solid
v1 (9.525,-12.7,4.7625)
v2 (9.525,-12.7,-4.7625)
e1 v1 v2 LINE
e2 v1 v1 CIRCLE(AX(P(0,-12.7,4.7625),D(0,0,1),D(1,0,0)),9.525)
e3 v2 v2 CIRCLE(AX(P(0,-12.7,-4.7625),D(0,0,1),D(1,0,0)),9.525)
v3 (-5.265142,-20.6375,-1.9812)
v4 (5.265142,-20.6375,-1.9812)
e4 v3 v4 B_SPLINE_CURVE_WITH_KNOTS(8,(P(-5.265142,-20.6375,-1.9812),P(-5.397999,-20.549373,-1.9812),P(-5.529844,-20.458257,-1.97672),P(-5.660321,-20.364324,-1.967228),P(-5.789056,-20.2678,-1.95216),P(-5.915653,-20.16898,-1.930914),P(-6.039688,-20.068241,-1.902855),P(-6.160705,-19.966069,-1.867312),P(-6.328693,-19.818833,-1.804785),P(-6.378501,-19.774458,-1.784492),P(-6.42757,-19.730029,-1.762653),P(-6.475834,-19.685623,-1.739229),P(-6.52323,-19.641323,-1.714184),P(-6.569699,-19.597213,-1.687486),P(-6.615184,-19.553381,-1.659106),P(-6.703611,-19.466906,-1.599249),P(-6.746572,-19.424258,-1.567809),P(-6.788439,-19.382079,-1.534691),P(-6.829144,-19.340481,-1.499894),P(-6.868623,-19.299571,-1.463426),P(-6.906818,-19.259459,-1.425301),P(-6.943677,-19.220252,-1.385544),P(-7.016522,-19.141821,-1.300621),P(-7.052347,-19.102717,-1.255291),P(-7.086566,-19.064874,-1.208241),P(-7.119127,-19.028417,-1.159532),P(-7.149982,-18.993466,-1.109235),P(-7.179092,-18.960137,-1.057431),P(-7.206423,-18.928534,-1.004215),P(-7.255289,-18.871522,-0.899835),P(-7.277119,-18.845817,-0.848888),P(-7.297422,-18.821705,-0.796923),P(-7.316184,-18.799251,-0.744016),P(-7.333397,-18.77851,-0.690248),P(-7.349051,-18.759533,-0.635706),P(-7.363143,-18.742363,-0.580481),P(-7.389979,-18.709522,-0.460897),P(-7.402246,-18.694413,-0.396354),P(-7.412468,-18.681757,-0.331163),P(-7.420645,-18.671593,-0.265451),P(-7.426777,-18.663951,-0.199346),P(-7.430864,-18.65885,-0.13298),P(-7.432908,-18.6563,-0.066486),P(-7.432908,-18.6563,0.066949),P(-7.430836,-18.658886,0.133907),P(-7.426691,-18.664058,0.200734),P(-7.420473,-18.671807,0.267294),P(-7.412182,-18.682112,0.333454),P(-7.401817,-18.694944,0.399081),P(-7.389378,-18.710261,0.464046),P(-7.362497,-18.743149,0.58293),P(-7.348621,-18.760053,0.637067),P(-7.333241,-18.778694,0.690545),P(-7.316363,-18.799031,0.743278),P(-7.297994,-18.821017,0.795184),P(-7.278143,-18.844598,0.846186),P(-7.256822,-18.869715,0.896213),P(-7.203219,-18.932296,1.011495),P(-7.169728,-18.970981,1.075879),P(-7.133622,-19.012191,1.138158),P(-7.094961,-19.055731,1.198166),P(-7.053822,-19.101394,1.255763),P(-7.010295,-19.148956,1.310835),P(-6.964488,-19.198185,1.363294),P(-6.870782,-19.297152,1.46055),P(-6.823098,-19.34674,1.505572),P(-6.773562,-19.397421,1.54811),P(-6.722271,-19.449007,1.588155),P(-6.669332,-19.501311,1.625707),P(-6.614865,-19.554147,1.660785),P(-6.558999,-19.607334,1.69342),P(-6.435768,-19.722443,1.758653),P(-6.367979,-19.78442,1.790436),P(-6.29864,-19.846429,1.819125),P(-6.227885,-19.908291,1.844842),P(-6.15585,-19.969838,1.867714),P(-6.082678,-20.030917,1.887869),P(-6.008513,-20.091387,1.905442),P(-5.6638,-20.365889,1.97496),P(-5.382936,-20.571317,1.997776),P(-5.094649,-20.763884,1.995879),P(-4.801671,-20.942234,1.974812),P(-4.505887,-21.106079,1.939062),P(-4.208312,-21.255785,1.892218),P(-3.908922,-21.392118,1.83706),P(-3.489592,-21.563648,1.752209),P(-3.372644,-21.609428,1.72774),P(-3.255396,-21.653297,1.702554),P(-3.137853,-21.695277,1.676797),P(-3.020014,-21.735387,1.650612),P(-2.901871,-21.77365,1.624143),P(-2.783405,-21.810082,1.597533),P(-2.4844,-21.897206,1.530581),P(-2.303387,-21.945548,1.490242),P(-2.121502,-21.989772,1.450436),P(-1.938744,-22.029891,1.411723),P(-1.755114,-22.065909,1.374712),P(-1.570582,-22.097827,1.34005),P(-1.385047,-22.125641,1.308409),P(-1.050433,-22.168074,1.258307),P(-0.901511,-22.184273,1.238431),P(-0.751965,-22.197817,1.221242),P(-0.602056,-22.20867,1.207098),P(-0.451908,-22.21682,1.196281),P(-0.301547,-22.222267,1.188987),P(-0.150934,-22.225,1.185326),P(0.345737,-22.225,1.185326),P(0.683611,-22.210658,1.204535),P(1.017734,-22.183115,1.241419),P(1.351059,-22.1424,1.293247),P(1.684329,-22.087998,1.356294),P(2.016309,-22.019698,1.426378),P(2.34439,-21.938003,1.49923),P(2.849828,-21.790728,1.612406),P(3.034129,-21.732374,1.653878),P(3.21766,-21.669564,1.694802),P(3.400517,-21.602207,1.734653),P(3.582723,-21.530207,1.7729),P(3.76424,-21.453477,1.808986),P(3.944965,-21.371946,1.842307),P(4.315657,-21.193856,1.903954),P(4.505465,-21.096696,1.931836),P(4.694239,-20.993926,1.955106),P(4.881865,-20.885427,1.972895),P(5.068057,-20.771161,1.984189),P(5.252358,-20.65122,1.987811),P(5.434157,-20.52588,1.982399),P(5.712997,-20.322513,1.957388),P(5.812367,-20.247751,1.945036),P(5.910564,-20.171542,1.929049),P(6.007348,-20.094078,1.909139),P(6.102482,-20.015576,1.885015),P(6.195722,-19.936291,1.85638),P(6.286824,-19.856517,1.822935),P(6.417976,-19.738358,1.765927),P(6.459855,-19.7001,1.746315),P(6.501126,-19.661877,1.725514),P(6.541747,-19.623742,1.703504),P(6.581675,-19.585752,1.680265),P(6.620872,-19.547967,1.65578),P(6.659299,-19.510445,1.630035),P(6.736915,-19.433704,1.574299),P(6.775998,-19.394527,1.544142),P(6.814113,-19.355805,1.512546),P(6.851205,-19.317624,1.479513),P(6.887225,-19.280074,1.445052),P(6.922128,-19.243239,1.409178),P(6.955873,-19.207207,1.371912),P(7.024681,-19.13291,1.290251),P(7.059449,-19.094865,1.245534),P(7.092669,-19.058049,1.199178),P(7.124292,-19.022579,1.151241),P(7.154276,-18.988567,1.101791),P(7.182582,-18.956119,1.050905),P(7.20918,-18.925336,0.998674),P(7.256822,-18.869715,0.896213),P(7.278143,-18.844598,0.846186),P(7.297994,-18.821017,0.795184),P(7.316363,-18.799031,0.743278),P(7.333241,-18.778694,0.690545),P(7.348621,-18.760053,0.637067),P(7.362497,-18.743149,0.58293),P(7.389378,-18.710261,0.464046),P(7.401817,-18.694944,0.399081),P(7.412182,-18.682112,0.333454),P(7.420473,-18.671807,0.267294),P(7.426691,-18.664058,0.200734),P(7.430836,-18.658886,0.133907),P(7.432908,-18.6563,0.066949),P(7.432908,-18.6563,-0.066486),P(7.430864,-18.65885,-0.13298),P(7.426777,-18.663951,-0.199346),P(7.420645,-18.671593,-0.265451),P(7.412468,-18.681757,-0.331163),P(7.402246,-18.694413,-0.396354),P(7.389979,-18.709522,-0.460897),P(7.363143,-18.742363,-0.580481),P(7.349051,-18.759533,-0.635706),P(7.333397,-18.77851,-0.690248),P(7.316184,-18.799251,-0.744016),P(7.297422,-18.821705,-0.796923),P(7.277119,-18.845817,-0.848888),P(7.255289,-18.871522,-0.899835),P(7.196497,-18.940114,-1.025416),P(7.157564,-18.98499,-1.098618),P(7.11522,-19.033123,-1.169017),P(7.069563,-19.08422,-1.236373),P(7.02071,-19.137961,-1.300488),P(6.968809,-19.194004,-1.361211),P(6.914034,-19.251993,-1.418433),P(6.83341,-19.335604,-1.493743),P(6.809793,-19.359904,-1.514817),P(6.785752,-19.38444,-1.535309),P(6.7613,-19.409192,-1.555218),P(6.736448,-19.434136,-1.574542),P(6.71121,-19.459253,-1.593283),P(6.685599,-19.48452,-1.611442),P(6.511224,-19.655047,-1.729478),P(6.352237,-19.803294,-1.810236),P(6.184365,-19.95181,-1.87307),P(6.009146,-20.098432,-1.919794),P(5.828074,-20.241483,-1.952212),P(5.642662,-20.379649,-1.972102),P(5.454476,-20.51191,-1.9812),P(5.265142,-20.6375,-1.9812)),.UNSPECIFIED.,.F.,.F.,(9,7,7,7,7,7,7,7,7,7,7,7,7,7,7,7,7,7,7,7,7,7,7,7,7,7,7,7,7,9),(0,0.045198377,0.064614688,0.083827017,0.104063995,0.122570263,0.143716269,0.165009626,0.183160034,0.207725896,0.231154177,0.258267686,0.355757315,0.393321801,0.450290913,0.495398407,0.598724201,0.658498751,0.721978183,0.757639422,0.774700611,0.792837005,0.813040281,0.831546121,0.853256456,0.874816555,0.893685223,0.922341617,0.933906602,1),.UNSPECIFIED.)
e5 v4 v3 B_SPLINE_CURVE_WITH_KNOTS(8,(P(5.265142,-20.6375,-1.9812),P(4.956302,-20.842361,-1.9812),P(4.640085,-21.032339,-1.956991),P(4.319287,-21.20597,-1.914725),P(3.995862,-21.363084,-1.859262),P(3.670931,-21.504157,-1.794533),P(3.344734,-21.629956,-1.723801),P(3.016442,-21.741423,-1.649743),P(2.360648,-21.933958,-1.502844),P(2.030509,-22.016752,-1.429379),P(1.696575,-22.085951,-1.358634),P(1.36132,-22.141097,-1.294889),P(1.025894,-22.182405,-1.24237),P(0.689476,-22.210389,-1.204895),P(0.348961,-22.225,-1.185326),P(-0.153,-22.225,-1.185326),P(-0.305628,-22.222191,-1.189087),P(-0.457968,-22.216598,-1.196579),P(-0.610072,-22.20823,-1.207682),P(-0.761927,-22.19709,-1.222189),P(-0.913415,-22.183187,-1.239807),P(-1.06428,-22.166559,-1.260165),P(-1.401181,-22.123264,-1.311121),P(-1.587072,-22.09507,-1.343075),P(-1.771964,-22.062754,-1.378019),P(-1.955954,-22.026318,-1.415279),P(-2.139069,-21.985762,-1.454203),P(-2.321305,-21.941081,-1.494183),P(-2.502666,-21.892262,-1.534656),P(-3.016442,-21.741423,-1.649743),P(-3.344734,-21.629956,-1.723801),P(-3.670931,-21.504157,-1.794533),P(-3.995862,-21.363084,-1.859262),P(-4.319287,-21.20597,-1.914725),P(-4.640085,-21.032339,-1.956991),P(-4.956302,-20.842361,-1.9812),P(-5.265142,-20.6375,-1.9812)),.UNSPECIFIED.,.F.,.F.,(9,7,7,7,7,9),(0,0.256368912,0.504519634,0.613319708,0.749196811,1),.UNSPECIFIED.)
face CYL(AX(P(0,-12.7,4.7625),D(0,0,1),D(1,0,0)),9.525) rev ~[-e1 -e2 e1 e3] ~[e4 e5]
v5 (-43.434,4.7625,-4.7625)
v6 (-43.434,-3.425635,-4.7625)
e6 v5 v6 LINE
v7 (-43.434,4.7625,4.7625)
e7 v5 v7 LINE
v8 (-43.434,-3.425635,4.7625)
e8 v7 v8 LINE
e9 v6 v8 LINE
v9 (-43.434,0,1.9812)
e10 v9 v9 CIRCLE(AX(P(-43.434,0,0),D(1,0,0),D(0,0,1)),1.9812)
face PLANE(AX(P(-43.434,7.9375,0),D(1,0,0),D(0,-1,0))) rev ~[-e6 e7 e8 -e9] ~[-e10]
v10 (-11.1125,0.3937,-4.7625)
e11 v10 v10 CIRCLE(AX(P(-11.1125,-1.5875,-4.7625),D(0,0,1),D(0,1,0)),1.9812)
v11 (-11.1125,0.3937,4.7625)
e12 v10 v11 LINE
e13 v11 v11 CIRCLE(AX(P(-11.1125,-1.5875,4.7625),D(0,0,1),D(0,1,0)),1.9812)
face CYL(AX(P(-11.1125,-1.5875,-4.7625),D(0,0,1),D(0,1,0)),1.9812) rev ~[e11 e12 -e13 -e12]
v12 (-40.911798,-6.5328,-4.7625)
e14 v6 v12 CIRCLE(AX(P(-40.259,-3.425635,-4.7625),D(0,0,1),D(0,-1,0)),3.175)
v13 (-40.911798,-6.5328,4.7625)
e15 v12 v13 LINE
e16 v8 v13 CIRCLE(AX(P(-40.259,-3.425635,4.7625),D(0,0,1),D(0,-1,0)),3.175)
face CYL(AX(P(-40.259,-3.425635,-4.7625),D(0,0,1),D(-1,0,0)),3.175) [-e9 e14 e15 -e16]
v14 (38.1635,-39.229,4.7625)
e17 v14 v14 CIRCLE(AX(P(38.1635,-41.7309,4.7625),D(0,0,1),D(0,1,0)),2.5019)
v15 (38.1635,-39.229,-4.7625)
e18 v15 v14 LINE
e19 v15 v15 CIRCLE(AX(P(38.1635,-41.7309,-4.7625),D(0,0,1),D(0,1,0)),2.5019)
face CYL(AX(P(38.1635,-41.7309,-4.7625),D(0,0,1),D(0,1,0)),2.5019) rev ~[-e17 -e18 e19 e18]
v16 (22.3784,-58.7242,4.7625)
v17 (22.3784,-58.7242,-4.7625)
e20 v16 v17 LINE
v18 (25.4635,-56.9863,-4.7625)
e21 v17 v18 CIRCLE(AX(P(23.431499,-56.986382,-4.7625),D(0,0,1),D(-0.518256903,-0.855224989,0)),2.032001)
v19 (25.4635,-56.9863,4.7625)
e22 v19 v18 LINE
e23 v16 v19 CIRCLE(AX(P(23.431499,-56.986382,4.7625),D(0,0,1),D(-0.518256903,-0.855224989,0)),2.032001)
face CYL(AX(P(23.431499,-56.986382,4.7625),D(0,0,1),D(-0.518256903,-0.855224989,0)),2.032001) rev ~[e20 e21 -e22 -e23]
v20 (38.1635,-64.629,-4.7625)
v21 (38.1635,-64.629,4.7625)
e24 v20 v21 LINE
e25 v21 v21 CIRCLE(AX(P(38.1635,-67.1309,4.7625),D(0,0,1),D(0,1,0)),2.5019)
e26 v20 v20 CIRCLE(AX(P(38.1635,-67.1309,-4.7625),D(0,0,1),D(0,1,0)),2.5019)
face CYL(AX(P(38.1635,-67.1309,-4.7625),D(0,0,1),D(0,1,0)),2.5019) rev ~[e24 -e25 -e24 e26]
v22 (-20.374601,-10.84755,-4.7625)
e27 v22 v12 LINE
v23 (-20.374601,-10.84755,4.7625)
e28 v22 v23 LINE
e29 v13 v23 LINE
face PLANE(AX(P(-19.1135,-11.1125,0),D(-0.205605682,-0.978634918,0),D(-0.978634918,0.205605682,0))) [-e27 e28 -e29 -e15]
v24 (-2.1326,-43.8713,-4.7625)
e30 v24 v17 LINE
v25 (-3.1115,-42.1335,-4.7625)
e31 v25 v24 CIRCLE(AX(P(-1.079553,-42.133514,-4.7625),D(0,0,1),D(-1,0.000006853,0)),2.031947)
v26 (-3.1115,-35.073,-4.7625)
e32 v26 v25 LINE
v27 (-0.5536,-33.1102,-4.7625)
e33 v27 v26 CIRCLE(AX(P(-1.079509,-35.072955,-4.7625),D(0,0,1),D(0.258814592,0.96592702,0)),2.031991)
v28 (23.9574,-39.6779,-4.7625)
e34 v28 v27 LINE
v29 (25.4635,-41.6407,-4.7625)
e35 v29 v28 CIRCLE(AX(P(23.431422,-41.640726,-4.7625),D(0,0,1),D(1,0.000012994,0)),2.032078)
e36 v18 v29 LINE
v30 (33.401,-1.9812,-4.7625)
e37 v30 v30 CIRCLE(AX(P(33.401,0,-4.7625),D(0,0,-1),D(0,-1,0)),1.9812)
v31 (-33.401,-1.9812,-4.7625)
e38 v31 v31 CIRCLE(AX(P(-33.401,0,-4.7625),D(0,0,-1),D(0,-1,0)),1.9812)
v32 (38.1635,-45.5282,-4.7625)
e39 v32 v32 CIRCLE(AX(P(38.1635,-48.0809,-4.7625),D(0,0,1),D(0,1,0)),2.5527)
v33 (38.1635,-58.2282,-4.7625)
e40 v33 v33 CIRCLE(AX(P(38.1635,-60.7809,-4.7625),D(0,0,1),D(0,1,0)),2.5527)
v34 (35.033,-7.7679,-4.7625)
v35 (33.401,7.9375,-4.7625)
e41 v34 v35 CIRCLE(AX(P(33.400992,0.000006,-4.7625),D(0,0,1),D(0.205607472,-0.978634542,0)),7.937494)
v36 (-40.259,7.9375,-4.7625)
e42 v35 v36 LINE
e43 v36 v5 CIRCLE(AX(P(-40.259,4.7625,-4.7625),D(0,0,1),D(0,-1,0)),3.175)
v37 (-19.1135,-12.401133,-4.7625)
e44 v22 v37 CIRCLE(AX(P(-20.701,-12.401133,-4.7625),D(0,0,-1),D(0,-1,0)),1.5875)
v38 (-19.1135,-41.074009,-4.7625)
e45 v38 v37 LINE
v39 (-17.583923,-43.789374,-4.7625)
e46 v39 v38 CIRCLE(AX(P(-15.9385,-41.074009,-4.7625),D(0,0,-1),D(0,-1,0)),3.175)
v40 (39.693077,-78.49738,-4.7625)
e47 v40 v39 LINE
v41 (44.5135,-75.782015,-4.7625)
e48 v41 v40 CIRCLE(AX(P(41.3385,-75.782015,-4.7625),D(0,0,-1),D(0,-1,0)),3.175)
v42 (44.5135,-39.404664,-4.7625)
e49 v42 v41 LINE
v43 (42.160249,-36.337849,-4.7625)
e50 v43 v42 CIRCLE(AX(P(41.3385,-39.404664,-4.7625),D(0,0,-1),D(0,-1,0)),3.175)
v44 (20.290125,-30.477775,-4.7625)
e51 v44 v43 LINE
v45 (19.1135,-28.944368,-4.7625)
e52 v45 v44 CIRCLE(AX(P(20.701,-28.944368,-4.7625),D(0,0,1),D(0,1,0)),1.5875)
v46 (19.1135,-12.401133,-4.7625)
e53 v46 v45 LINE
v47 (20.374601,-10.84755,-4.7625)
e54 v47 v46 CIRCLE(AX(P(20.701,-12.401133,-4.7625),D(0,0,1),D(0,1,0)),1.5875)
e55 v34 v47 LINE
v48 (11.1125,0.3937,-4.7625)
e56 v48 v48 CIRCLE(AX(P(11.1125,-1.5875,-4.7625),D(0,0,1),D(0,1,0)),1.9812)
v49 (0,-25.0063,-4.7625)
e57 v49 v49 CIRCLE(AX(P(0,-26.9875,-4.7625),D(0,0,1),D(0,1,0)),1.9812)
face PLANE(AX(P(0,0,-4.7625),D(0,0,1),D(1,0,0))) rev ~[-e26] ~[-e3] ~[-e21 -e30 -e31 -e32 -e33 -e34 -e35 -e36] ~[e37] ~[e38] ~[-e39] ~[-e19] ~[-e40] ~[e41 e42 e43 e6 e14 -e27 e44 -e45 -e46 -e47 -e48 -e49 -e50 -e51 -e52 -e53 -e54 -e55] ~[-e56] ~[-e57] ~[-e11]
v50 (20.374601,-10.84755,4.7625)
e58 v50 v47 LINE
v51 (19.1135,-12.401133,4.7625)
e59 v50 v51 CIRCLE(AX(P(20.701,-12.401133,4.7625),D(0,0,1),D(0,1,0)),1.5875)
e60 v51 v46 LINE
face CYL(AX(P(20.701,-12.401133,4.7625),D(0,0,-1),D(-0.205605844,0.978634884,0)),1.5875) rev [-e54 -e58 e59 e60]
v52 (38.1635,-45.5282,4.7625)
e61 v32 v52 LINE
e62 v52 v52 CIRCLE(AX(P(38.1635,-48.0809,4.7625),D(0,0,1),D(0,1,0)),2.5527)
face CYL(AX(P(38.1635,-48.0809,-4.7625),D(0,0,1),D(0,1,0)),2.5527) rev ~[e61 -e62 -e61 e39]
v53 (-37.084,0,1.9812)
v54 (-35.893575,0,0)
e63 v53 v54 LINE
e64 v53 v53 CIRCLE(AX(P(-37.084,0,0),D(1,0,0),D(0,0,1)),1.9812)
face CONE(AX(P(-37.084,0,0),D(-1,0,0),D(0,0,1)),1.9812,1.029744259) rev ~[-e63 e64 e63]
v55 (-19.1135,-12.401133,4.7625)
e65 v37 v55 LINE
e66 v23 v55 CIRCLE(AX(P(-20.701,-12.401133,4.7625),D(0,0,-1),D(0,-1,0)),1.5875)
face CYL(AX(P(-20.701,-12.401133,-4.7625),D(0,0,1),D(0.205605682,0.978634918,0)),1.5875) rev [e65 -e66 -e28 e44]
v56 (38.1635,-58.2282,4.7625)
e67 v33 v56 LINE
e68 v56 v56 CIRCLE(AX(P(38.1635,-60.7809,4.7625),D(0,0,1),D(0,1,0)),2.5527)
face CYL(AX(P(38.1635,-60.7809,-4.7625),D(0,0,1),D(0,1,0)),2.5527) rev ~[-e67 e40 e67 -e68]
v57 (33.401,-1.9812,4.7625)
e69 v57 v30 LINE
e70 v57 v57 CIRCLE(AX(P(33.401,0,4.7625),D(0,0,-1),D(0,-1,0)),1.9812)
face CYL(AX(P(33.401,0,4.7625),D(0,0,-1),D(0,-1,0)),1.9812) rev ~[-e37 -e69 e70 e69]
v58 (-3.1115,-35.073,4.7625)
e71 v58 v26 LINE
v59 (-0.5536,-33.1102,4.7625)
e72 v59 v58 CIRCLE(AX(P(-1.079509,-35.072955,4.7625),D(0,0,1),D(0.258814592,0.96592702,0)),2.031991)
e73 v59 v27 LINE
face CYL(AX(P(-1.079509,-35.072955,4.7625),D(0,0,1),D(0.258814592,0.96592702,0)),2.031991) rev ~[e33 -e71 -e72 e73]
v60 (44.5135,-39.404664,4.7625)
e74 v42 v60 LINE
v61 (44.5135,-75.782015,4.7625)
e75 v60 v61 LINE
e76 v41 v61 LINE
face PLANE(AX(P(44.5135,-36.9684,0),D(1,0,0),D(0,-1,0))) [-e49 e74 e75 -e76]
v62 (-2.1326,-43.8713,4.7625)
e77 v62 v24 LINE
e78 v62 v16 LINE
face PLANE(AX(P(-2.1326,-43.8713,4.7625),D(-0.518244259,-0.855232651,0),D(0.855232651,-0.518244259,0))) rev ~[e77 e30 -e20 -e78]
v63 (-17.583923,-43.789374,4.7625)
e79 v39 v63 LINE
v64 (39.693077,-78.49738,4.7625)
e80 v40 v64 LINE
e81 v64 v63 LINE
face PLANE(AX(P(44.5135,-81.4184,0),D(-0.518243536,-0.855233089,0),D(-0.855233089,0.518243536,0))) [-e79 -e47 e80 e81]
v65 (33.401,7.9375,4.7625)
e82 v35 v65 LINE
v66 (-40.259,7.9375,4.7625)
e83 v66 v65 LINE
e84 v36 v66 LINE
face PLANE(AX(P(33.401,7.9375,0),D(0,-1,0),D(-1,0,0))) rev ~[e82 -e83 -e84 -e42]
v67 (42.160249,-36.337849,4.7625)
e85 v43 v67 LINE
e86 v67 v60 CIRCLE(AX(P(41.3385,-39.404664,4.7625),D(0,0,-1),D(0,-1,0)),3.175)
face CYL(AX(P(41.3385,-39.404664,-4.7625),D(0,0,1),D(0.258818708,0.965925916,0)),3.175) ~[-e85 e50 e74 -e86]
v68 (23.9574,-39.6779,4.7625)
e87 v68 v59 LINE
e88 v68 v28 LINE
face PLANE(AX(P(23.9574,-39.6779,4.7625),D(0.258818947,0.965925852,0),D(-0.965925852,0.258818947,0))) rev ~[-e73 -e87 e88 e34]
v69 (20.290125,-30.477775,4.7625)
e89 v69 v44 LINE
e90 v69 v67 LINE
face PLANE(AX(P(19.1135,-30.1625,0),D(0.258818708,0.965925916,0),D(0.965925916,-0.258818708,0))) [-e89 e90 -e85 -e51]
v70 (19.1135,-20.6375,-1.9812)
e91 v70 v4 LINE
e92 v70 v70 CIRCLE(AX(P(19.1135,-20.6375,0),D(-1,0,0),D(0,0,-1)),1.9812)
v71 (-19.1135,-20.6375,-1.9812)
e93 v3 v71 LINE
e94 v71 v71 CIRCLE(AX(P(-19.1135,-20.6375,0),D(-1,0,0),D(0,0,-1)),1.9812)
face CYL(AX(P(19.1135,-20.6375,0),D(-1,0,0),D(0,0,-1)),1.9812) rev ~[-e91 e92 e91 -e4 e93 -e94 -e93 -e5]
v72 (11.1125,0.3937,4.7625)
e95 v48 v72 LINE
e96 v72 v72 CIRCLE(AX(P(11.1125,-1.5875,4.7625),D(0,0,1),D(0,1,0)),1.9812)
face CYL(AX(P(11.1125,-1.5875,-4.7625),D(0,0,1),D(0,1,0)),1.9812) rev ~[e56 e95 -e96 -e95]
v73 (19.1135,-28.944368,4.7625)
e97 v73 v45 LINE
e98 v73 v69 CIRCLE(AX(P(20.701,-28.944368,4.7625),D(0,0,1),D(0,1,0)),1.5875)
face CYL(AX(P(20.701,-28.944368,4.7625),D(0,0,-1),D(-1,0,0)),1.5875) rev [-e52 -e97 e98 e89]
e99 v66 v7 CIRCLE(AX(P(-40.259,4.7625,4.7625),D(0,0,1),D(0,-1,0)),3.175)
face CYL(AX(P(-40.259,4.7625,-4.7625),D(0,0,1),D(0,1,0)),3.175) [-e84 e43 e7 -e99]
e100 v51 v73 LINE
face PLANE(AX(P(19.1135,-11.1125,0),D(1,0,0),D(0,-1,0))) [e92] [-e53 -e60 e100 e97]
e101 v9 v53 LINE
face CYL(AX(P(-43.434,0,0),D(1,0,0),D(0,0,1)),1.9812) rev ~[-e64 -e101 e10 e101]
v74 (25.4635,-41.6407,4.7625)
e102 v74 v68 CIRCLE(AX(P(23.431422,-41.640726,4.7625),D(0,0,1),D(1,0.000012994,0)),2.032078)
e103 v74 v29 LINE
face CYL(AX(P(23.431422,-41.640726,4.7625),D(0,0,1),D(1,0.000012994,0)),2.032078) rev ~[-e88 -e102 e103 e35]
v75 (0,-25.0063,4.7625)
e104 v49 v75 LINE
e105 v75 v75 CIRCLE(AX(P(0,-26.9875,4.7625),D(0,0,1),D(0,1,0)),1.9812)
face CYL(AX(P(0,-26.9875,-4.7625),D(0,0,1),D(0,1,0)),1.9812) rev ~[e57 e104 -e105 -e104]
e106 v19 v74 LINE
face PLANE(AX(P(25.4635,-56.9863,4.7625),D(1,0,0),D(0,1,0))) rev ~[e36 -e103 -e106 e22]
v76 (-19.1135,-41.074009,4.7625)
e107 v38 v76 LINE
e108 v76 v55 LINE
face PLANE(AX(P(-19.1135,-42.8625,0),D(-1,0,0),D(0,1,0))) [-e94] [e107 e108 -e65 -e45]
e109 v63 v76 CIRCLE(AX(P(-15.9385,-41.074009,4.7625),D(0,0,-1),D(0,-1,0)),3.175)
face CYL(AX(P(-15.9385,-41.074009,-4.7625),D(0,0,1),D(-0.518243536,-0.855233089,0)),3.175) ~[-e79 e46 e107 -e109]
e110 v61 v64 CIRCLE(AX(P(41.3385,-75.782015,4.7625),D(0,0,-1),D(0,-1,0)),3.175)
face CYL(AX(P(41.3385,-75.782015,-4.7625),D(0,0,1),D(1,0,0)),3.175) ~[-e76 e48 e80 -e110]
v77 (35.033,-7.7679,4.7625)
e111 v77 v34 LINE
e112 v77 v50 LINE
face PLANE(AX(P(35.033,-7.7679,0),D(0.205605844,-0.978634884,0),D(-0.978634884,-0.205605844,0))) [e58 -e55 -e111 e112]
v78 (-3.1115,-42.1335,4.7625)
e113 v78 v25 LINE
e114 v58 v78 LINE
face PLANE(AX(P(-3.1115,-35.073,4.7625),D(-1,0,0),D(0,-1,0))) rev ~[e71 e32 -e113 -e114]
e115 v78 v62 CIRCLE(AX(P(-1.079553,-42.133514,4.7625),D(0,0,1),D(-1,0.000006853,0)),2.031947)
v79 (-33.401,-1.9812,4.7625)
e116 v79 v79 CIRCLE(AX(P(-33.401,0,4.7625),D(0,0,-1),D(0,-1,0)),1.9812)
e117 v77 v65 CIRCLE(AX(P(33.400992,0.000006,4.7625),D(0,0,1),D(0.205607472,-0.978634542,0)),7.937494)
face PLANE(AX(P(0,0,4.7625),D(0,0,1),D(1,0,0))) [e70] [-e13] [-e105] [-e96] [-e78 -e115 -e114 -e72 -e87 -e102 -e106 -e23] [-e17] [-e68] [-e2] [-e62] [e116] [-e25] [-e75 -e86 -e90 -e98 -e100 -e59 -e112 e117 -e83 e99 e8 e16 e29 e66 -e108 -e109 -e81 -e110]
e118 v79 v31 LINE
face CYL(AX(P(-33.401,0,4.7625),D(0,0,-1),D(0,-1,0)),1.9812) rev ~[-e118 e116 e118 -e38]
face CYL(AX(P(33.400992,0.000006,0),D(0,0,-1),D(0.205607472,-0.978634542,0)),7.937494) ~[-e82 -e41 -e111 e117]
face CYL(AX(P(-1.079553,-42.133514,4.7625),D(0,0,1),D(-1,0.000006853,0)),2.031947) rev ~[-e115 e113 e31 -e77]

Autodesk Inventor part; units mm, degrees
ref_plane "YZ Plane" through (0, 0, 0) normal (1, 0, 0) x (0, 1, 0)
ref_plane "XZ Plane" through (0, 0, 0) normal (0, 1, 0) x (-1, 0, 0)
ref_plane "XY Plane" through (0, 0, 0) normal (0, 0, 1) x (1, 0, 0)
sketch "Sketch1" plane through (0, 0, 0) normal (0, 0, 1) x (1, 0, 0)
  line L0 (33.401, 0) -> (-33.401, 0) construction
  arc A0 (33.401, 7.9375) -> (35.033, -7.7679) centre (33.401, 0) ccw construction
  arc A1 (-35.033, -7.7679) -> (-33.401, 7.9375) centre (-33.401, 0) ccw construction
  line L1 (33.401, 7.9375) -> (-33.401, 7.9375)
  line L2 (35.033, -7.7679) -> (19.1135, -11.1125)
  line L3 (19.1135, -11.1125) -> (19.1135, -30.1625)
  line L4 (19.1135, -30.1625) -> (44.5135, -36.9684)
  line L5 (44.5135, -36.9684) -> (44.5135, -81.4184)
  line L6 (44.5135, -81.4184) -> (-19.1135, -42.8625)
  line L7 (-19.1135, -42.8625) -> (-19.1135, -11.1125)
  line L8 (-19.1135, -11.1125) -> (-43.434, -6.0029)
  arc A2 (35.033, -7.7679) -> (33.401, 7.9375) centre (33.401, 0) ccw
  arc A3 (-33.401, 7.9375) -> (-35.033, -7.7679) centre (-33.401, 0) ccw
  line L9 (0, 26.6914) -> (0, -99.4367) construction
  line L10 (-33.401, 7.9375) -> (-43.434, 7.9375)
  line L11 (-43.434, 7.9375) -> (-43.434, -6.0029)
  point P0 (0, 0)
  point P1 (0, 0)
  point P2 (19.1135, -20.6375)
  dimension "d24" = 50.927
  dimension "d25" = 7.9375
  dimension "d26" = 19.05
  dimension "d27" = 19.05
  dimension "d28" = 105
  dimension "d30" = 6.35
  dimension "d31" = 44.45
  dimension "d72" = 28.575
  dimension "d110" = 31.75
  dimension "d127" = 10.033
extrude "Extrusion2" add sketch "Sketch1" along normal mid plane 9.525
sketch "Sketch2" plane through (0, 0, 4.7625) normal (0, 0, 1) x (1, 0, 0)
  arc A0 (35.033, -7.7679) -> (33.401, 7.9375) centre (33.401, 0) ccw construction
  line L0 (33.401, 0) -> (-33.401, 0) construction
  point P0 (0, 0)
  point P1 (0, 0)
hole "Hole1" at (33.401, 0, 4.7625) at (-33.401, 0, 4.7625) direction (0, 0, -1) diameter 3.9624 end through all thread size "10-32 UNF" class "2B" standard "ANSI Unified Screw Threads"
sketch "Sketch3" plane through (0, 0, -4.7625) normal (0, 0, -1) x (-1, 0, 0)
  line L0 (-62.103, 0) -> (61.0235, 0) construction
  line L1 (0, -99.2896) -> (0, 25.8087) construction
  line L2 (11.1125, -1.5875) -> (-11.1125, -1.5875) construction
  line L3 (0, -26.9875) -> (0, -1.5875) construction
  point P0 (0, 0)
  dimension "d43" = 22.225
  dimension "d44" = 25.4
  dimension "d45" = 1.5875
hole "Hole2" at (0, -26.9875, -4.7625) at (11.1125, -1.5875, -4.7625) at (-11.1125, -1.5875, -4.7625) direction (0, 0, 1) diameter 3.9624 end through all thread size "10-32 UNF" class "2B" standard "ANSI Unified Screw Threads"
sketch "Sketch4" plane through (0, 0, 4.7625) normal (0, 0, 1) x (1, 0, 0)
  line L0 (0, 0) -> (0, -12.7) construction
  circle A0 centre (0, -12.7) radius 9.525
  line L1 (25.4635, -56.9863) -> (25.4635, -41.6407)
  line L2 (23.9574, -39.6779) -> (-0.5536, -33.1102)
  line L3 (-3.1115, -35.073) -> (-3.1115, -42.1335)
  line L4 (-2.1326, -43.8713) -> (22.3784, -58.7242)
  line L5 (-19.1135, -42.8625) -> (44.5135, -81.4184) construction
  line L6 (44.5135, -36.9684) -> (19.1135, -30.1625) construction
  line L7 (44.5135, -81.4184) -> (44.5135, -36.9684) construction
  arc A1 (22.3784, -58.7242) -> (25.4635, -56.9863) centre (23.4315, -56.9863) ccw
  arc A2 (25.4635, -41.6407) -> (23.9574, -39.6779) centre (23.4315, -41.6407) ccw
  arc A3 (-0.5536, -33.1102) -> (-3.1115, -35.073) centre (-1.0795, -35.073) ccw
  arc A4 (-3.1115, -42.1335) -> (-2.1326, -43.8713) centre (-1.0795, -42.1335) ccw
  point P0 (-18.2864, -30.0929)
  point P1 (20.2266, -29.9445)
  point P2 (19.1135, -30.1625)
  dimension "d54" = 19.05
  dimension "d55" = 12.7
  dimension "d56" = 19.05
  dimension "d57" = 28.575
  dimension "d58" = 7.9375
  dimension "d59" = 7.9375
  dimension "d60" = 2.032
extrude "Extrusion3" cut sketch "Sketch4" against normal through all
sketch "Sketch6" plane through (19.1135, -30.1625, 4.7625) normal (1, 0, 0) x (0, 0, -1)
  line L0 (9.525, 19.05) -> (0, 19.05) construction
  line L1 (0, 0) -> (0, 19.05) construction
  line L2 (9.525, 0) -> (0, 0) construction
  line L3 (9.525, 19.05) -> (9.525, 0) construction
  line L4 (9.525, 0) -> (0, 19.05) construction
  point P0 (4.7625, 30.1625)
  point P1 (4.7625, 9.525)
hole "Hole3" at (19.1135, -20.6375, 0) direction (-1, 0, 0) diameter 3.9624 end through all thread size "10-32 UNF" class "2B" standard "ANSI Unified Screw Threads"
sketch "Sketch8" plane through (0, 0, -4.7625) normal (0, 0, -1) x (-1, 0, 0)
  line L0 (-38.1635, -41.7309) -> (-38.1635, -48.0809) construction
  line L1 (-38.1635, -48.0809) -> (-38.1635, -60.7809) construction
  line L2 (-38.1635, -60.7809) -> (-38.1635, -67.1309) construction
  line L3 (-44.5135, -36.9684) -> (-44.5135, -81.4184) construction
  point P0 (0, 0)
  point P1 (-44.5135, -59.1934)
  point P2 (-38.1635, -54.4309)
  dimension "d85" = 12.7
  dimension "d86" = 25.4
  dimension "d88" = 4.7625
  dimension "d89" = 6.35
hole "Hole5" at (38.1635, -67.1309, -4.7625) at (38.1635, -41.7309, -4.7625) direction (0, 0, 1) diameter 5.0038 end through all clearance for "H7 - STANDARD FIT" size "5" standard "CL-DOWEL-MET"
hole "Hole6" at (38.1635, -48.0809, -4.7625) at (38.1635, -60.7809, -4.7625) direction (0, 0, 1) diameter 5.1054 end through all clearance for "Flat Head Machine Screw (82)" size "#10" standard "Ansi Unified Screw Threads"
fillet "Fillet4" radius 1.5875 3 edges at (19.1135, -30.1625, 0) (19.1135, -11.1125, 0) (-19.1135, -11.1125, 0)
fillet "Fillet5" radius 3.175 5 edges at (44.5135, -36.9684, 0) (44.5135, -81.4184, 0) (-19.1135, -42.8625, 0) (-43.434, -6.0029, 0) (-43.434, 7.9375, 0)
sketch "Sketch11" plane through (-43.434, -3.4256, -4.7625) normal (-1, 0, 0) x (0, 0, 1)
  point P0 (4.7625, 3.4256)
  point P1 (4.7625, 3.4256)
hole "Hole9" at (-43.434, 0, 0) direction (1, 0, 0) diameter 3.9624 depth 6.35 tip angle 118 thread size "10-32 UNF" class "2B" standard "ANSI Unified Screw Threads"
equation "\"d58\" = d59"
equation "\"BendRadius\" = Thickness"
equation "\"BendReliefWidth\" = Thickness"
equation "\"BendReliefDepth\" = 0.5 * Thickness"
equation "\"CornerReliefSize\" = 4 * Thickness"
equation "\"MinimumRemnant\" = 2 * Thickness"
equation "\"TransitionRadius\" = BendRadius"
equation "\"JacobiRadiusSize\" = BendRadius"
equation "\"GapSize\" = Thickness"
equation "\"Thickness\" = 6.35"
properties part number "PLATE,SIDE,ELEVATOR,STAGE1" material "Aluminum 7075"
